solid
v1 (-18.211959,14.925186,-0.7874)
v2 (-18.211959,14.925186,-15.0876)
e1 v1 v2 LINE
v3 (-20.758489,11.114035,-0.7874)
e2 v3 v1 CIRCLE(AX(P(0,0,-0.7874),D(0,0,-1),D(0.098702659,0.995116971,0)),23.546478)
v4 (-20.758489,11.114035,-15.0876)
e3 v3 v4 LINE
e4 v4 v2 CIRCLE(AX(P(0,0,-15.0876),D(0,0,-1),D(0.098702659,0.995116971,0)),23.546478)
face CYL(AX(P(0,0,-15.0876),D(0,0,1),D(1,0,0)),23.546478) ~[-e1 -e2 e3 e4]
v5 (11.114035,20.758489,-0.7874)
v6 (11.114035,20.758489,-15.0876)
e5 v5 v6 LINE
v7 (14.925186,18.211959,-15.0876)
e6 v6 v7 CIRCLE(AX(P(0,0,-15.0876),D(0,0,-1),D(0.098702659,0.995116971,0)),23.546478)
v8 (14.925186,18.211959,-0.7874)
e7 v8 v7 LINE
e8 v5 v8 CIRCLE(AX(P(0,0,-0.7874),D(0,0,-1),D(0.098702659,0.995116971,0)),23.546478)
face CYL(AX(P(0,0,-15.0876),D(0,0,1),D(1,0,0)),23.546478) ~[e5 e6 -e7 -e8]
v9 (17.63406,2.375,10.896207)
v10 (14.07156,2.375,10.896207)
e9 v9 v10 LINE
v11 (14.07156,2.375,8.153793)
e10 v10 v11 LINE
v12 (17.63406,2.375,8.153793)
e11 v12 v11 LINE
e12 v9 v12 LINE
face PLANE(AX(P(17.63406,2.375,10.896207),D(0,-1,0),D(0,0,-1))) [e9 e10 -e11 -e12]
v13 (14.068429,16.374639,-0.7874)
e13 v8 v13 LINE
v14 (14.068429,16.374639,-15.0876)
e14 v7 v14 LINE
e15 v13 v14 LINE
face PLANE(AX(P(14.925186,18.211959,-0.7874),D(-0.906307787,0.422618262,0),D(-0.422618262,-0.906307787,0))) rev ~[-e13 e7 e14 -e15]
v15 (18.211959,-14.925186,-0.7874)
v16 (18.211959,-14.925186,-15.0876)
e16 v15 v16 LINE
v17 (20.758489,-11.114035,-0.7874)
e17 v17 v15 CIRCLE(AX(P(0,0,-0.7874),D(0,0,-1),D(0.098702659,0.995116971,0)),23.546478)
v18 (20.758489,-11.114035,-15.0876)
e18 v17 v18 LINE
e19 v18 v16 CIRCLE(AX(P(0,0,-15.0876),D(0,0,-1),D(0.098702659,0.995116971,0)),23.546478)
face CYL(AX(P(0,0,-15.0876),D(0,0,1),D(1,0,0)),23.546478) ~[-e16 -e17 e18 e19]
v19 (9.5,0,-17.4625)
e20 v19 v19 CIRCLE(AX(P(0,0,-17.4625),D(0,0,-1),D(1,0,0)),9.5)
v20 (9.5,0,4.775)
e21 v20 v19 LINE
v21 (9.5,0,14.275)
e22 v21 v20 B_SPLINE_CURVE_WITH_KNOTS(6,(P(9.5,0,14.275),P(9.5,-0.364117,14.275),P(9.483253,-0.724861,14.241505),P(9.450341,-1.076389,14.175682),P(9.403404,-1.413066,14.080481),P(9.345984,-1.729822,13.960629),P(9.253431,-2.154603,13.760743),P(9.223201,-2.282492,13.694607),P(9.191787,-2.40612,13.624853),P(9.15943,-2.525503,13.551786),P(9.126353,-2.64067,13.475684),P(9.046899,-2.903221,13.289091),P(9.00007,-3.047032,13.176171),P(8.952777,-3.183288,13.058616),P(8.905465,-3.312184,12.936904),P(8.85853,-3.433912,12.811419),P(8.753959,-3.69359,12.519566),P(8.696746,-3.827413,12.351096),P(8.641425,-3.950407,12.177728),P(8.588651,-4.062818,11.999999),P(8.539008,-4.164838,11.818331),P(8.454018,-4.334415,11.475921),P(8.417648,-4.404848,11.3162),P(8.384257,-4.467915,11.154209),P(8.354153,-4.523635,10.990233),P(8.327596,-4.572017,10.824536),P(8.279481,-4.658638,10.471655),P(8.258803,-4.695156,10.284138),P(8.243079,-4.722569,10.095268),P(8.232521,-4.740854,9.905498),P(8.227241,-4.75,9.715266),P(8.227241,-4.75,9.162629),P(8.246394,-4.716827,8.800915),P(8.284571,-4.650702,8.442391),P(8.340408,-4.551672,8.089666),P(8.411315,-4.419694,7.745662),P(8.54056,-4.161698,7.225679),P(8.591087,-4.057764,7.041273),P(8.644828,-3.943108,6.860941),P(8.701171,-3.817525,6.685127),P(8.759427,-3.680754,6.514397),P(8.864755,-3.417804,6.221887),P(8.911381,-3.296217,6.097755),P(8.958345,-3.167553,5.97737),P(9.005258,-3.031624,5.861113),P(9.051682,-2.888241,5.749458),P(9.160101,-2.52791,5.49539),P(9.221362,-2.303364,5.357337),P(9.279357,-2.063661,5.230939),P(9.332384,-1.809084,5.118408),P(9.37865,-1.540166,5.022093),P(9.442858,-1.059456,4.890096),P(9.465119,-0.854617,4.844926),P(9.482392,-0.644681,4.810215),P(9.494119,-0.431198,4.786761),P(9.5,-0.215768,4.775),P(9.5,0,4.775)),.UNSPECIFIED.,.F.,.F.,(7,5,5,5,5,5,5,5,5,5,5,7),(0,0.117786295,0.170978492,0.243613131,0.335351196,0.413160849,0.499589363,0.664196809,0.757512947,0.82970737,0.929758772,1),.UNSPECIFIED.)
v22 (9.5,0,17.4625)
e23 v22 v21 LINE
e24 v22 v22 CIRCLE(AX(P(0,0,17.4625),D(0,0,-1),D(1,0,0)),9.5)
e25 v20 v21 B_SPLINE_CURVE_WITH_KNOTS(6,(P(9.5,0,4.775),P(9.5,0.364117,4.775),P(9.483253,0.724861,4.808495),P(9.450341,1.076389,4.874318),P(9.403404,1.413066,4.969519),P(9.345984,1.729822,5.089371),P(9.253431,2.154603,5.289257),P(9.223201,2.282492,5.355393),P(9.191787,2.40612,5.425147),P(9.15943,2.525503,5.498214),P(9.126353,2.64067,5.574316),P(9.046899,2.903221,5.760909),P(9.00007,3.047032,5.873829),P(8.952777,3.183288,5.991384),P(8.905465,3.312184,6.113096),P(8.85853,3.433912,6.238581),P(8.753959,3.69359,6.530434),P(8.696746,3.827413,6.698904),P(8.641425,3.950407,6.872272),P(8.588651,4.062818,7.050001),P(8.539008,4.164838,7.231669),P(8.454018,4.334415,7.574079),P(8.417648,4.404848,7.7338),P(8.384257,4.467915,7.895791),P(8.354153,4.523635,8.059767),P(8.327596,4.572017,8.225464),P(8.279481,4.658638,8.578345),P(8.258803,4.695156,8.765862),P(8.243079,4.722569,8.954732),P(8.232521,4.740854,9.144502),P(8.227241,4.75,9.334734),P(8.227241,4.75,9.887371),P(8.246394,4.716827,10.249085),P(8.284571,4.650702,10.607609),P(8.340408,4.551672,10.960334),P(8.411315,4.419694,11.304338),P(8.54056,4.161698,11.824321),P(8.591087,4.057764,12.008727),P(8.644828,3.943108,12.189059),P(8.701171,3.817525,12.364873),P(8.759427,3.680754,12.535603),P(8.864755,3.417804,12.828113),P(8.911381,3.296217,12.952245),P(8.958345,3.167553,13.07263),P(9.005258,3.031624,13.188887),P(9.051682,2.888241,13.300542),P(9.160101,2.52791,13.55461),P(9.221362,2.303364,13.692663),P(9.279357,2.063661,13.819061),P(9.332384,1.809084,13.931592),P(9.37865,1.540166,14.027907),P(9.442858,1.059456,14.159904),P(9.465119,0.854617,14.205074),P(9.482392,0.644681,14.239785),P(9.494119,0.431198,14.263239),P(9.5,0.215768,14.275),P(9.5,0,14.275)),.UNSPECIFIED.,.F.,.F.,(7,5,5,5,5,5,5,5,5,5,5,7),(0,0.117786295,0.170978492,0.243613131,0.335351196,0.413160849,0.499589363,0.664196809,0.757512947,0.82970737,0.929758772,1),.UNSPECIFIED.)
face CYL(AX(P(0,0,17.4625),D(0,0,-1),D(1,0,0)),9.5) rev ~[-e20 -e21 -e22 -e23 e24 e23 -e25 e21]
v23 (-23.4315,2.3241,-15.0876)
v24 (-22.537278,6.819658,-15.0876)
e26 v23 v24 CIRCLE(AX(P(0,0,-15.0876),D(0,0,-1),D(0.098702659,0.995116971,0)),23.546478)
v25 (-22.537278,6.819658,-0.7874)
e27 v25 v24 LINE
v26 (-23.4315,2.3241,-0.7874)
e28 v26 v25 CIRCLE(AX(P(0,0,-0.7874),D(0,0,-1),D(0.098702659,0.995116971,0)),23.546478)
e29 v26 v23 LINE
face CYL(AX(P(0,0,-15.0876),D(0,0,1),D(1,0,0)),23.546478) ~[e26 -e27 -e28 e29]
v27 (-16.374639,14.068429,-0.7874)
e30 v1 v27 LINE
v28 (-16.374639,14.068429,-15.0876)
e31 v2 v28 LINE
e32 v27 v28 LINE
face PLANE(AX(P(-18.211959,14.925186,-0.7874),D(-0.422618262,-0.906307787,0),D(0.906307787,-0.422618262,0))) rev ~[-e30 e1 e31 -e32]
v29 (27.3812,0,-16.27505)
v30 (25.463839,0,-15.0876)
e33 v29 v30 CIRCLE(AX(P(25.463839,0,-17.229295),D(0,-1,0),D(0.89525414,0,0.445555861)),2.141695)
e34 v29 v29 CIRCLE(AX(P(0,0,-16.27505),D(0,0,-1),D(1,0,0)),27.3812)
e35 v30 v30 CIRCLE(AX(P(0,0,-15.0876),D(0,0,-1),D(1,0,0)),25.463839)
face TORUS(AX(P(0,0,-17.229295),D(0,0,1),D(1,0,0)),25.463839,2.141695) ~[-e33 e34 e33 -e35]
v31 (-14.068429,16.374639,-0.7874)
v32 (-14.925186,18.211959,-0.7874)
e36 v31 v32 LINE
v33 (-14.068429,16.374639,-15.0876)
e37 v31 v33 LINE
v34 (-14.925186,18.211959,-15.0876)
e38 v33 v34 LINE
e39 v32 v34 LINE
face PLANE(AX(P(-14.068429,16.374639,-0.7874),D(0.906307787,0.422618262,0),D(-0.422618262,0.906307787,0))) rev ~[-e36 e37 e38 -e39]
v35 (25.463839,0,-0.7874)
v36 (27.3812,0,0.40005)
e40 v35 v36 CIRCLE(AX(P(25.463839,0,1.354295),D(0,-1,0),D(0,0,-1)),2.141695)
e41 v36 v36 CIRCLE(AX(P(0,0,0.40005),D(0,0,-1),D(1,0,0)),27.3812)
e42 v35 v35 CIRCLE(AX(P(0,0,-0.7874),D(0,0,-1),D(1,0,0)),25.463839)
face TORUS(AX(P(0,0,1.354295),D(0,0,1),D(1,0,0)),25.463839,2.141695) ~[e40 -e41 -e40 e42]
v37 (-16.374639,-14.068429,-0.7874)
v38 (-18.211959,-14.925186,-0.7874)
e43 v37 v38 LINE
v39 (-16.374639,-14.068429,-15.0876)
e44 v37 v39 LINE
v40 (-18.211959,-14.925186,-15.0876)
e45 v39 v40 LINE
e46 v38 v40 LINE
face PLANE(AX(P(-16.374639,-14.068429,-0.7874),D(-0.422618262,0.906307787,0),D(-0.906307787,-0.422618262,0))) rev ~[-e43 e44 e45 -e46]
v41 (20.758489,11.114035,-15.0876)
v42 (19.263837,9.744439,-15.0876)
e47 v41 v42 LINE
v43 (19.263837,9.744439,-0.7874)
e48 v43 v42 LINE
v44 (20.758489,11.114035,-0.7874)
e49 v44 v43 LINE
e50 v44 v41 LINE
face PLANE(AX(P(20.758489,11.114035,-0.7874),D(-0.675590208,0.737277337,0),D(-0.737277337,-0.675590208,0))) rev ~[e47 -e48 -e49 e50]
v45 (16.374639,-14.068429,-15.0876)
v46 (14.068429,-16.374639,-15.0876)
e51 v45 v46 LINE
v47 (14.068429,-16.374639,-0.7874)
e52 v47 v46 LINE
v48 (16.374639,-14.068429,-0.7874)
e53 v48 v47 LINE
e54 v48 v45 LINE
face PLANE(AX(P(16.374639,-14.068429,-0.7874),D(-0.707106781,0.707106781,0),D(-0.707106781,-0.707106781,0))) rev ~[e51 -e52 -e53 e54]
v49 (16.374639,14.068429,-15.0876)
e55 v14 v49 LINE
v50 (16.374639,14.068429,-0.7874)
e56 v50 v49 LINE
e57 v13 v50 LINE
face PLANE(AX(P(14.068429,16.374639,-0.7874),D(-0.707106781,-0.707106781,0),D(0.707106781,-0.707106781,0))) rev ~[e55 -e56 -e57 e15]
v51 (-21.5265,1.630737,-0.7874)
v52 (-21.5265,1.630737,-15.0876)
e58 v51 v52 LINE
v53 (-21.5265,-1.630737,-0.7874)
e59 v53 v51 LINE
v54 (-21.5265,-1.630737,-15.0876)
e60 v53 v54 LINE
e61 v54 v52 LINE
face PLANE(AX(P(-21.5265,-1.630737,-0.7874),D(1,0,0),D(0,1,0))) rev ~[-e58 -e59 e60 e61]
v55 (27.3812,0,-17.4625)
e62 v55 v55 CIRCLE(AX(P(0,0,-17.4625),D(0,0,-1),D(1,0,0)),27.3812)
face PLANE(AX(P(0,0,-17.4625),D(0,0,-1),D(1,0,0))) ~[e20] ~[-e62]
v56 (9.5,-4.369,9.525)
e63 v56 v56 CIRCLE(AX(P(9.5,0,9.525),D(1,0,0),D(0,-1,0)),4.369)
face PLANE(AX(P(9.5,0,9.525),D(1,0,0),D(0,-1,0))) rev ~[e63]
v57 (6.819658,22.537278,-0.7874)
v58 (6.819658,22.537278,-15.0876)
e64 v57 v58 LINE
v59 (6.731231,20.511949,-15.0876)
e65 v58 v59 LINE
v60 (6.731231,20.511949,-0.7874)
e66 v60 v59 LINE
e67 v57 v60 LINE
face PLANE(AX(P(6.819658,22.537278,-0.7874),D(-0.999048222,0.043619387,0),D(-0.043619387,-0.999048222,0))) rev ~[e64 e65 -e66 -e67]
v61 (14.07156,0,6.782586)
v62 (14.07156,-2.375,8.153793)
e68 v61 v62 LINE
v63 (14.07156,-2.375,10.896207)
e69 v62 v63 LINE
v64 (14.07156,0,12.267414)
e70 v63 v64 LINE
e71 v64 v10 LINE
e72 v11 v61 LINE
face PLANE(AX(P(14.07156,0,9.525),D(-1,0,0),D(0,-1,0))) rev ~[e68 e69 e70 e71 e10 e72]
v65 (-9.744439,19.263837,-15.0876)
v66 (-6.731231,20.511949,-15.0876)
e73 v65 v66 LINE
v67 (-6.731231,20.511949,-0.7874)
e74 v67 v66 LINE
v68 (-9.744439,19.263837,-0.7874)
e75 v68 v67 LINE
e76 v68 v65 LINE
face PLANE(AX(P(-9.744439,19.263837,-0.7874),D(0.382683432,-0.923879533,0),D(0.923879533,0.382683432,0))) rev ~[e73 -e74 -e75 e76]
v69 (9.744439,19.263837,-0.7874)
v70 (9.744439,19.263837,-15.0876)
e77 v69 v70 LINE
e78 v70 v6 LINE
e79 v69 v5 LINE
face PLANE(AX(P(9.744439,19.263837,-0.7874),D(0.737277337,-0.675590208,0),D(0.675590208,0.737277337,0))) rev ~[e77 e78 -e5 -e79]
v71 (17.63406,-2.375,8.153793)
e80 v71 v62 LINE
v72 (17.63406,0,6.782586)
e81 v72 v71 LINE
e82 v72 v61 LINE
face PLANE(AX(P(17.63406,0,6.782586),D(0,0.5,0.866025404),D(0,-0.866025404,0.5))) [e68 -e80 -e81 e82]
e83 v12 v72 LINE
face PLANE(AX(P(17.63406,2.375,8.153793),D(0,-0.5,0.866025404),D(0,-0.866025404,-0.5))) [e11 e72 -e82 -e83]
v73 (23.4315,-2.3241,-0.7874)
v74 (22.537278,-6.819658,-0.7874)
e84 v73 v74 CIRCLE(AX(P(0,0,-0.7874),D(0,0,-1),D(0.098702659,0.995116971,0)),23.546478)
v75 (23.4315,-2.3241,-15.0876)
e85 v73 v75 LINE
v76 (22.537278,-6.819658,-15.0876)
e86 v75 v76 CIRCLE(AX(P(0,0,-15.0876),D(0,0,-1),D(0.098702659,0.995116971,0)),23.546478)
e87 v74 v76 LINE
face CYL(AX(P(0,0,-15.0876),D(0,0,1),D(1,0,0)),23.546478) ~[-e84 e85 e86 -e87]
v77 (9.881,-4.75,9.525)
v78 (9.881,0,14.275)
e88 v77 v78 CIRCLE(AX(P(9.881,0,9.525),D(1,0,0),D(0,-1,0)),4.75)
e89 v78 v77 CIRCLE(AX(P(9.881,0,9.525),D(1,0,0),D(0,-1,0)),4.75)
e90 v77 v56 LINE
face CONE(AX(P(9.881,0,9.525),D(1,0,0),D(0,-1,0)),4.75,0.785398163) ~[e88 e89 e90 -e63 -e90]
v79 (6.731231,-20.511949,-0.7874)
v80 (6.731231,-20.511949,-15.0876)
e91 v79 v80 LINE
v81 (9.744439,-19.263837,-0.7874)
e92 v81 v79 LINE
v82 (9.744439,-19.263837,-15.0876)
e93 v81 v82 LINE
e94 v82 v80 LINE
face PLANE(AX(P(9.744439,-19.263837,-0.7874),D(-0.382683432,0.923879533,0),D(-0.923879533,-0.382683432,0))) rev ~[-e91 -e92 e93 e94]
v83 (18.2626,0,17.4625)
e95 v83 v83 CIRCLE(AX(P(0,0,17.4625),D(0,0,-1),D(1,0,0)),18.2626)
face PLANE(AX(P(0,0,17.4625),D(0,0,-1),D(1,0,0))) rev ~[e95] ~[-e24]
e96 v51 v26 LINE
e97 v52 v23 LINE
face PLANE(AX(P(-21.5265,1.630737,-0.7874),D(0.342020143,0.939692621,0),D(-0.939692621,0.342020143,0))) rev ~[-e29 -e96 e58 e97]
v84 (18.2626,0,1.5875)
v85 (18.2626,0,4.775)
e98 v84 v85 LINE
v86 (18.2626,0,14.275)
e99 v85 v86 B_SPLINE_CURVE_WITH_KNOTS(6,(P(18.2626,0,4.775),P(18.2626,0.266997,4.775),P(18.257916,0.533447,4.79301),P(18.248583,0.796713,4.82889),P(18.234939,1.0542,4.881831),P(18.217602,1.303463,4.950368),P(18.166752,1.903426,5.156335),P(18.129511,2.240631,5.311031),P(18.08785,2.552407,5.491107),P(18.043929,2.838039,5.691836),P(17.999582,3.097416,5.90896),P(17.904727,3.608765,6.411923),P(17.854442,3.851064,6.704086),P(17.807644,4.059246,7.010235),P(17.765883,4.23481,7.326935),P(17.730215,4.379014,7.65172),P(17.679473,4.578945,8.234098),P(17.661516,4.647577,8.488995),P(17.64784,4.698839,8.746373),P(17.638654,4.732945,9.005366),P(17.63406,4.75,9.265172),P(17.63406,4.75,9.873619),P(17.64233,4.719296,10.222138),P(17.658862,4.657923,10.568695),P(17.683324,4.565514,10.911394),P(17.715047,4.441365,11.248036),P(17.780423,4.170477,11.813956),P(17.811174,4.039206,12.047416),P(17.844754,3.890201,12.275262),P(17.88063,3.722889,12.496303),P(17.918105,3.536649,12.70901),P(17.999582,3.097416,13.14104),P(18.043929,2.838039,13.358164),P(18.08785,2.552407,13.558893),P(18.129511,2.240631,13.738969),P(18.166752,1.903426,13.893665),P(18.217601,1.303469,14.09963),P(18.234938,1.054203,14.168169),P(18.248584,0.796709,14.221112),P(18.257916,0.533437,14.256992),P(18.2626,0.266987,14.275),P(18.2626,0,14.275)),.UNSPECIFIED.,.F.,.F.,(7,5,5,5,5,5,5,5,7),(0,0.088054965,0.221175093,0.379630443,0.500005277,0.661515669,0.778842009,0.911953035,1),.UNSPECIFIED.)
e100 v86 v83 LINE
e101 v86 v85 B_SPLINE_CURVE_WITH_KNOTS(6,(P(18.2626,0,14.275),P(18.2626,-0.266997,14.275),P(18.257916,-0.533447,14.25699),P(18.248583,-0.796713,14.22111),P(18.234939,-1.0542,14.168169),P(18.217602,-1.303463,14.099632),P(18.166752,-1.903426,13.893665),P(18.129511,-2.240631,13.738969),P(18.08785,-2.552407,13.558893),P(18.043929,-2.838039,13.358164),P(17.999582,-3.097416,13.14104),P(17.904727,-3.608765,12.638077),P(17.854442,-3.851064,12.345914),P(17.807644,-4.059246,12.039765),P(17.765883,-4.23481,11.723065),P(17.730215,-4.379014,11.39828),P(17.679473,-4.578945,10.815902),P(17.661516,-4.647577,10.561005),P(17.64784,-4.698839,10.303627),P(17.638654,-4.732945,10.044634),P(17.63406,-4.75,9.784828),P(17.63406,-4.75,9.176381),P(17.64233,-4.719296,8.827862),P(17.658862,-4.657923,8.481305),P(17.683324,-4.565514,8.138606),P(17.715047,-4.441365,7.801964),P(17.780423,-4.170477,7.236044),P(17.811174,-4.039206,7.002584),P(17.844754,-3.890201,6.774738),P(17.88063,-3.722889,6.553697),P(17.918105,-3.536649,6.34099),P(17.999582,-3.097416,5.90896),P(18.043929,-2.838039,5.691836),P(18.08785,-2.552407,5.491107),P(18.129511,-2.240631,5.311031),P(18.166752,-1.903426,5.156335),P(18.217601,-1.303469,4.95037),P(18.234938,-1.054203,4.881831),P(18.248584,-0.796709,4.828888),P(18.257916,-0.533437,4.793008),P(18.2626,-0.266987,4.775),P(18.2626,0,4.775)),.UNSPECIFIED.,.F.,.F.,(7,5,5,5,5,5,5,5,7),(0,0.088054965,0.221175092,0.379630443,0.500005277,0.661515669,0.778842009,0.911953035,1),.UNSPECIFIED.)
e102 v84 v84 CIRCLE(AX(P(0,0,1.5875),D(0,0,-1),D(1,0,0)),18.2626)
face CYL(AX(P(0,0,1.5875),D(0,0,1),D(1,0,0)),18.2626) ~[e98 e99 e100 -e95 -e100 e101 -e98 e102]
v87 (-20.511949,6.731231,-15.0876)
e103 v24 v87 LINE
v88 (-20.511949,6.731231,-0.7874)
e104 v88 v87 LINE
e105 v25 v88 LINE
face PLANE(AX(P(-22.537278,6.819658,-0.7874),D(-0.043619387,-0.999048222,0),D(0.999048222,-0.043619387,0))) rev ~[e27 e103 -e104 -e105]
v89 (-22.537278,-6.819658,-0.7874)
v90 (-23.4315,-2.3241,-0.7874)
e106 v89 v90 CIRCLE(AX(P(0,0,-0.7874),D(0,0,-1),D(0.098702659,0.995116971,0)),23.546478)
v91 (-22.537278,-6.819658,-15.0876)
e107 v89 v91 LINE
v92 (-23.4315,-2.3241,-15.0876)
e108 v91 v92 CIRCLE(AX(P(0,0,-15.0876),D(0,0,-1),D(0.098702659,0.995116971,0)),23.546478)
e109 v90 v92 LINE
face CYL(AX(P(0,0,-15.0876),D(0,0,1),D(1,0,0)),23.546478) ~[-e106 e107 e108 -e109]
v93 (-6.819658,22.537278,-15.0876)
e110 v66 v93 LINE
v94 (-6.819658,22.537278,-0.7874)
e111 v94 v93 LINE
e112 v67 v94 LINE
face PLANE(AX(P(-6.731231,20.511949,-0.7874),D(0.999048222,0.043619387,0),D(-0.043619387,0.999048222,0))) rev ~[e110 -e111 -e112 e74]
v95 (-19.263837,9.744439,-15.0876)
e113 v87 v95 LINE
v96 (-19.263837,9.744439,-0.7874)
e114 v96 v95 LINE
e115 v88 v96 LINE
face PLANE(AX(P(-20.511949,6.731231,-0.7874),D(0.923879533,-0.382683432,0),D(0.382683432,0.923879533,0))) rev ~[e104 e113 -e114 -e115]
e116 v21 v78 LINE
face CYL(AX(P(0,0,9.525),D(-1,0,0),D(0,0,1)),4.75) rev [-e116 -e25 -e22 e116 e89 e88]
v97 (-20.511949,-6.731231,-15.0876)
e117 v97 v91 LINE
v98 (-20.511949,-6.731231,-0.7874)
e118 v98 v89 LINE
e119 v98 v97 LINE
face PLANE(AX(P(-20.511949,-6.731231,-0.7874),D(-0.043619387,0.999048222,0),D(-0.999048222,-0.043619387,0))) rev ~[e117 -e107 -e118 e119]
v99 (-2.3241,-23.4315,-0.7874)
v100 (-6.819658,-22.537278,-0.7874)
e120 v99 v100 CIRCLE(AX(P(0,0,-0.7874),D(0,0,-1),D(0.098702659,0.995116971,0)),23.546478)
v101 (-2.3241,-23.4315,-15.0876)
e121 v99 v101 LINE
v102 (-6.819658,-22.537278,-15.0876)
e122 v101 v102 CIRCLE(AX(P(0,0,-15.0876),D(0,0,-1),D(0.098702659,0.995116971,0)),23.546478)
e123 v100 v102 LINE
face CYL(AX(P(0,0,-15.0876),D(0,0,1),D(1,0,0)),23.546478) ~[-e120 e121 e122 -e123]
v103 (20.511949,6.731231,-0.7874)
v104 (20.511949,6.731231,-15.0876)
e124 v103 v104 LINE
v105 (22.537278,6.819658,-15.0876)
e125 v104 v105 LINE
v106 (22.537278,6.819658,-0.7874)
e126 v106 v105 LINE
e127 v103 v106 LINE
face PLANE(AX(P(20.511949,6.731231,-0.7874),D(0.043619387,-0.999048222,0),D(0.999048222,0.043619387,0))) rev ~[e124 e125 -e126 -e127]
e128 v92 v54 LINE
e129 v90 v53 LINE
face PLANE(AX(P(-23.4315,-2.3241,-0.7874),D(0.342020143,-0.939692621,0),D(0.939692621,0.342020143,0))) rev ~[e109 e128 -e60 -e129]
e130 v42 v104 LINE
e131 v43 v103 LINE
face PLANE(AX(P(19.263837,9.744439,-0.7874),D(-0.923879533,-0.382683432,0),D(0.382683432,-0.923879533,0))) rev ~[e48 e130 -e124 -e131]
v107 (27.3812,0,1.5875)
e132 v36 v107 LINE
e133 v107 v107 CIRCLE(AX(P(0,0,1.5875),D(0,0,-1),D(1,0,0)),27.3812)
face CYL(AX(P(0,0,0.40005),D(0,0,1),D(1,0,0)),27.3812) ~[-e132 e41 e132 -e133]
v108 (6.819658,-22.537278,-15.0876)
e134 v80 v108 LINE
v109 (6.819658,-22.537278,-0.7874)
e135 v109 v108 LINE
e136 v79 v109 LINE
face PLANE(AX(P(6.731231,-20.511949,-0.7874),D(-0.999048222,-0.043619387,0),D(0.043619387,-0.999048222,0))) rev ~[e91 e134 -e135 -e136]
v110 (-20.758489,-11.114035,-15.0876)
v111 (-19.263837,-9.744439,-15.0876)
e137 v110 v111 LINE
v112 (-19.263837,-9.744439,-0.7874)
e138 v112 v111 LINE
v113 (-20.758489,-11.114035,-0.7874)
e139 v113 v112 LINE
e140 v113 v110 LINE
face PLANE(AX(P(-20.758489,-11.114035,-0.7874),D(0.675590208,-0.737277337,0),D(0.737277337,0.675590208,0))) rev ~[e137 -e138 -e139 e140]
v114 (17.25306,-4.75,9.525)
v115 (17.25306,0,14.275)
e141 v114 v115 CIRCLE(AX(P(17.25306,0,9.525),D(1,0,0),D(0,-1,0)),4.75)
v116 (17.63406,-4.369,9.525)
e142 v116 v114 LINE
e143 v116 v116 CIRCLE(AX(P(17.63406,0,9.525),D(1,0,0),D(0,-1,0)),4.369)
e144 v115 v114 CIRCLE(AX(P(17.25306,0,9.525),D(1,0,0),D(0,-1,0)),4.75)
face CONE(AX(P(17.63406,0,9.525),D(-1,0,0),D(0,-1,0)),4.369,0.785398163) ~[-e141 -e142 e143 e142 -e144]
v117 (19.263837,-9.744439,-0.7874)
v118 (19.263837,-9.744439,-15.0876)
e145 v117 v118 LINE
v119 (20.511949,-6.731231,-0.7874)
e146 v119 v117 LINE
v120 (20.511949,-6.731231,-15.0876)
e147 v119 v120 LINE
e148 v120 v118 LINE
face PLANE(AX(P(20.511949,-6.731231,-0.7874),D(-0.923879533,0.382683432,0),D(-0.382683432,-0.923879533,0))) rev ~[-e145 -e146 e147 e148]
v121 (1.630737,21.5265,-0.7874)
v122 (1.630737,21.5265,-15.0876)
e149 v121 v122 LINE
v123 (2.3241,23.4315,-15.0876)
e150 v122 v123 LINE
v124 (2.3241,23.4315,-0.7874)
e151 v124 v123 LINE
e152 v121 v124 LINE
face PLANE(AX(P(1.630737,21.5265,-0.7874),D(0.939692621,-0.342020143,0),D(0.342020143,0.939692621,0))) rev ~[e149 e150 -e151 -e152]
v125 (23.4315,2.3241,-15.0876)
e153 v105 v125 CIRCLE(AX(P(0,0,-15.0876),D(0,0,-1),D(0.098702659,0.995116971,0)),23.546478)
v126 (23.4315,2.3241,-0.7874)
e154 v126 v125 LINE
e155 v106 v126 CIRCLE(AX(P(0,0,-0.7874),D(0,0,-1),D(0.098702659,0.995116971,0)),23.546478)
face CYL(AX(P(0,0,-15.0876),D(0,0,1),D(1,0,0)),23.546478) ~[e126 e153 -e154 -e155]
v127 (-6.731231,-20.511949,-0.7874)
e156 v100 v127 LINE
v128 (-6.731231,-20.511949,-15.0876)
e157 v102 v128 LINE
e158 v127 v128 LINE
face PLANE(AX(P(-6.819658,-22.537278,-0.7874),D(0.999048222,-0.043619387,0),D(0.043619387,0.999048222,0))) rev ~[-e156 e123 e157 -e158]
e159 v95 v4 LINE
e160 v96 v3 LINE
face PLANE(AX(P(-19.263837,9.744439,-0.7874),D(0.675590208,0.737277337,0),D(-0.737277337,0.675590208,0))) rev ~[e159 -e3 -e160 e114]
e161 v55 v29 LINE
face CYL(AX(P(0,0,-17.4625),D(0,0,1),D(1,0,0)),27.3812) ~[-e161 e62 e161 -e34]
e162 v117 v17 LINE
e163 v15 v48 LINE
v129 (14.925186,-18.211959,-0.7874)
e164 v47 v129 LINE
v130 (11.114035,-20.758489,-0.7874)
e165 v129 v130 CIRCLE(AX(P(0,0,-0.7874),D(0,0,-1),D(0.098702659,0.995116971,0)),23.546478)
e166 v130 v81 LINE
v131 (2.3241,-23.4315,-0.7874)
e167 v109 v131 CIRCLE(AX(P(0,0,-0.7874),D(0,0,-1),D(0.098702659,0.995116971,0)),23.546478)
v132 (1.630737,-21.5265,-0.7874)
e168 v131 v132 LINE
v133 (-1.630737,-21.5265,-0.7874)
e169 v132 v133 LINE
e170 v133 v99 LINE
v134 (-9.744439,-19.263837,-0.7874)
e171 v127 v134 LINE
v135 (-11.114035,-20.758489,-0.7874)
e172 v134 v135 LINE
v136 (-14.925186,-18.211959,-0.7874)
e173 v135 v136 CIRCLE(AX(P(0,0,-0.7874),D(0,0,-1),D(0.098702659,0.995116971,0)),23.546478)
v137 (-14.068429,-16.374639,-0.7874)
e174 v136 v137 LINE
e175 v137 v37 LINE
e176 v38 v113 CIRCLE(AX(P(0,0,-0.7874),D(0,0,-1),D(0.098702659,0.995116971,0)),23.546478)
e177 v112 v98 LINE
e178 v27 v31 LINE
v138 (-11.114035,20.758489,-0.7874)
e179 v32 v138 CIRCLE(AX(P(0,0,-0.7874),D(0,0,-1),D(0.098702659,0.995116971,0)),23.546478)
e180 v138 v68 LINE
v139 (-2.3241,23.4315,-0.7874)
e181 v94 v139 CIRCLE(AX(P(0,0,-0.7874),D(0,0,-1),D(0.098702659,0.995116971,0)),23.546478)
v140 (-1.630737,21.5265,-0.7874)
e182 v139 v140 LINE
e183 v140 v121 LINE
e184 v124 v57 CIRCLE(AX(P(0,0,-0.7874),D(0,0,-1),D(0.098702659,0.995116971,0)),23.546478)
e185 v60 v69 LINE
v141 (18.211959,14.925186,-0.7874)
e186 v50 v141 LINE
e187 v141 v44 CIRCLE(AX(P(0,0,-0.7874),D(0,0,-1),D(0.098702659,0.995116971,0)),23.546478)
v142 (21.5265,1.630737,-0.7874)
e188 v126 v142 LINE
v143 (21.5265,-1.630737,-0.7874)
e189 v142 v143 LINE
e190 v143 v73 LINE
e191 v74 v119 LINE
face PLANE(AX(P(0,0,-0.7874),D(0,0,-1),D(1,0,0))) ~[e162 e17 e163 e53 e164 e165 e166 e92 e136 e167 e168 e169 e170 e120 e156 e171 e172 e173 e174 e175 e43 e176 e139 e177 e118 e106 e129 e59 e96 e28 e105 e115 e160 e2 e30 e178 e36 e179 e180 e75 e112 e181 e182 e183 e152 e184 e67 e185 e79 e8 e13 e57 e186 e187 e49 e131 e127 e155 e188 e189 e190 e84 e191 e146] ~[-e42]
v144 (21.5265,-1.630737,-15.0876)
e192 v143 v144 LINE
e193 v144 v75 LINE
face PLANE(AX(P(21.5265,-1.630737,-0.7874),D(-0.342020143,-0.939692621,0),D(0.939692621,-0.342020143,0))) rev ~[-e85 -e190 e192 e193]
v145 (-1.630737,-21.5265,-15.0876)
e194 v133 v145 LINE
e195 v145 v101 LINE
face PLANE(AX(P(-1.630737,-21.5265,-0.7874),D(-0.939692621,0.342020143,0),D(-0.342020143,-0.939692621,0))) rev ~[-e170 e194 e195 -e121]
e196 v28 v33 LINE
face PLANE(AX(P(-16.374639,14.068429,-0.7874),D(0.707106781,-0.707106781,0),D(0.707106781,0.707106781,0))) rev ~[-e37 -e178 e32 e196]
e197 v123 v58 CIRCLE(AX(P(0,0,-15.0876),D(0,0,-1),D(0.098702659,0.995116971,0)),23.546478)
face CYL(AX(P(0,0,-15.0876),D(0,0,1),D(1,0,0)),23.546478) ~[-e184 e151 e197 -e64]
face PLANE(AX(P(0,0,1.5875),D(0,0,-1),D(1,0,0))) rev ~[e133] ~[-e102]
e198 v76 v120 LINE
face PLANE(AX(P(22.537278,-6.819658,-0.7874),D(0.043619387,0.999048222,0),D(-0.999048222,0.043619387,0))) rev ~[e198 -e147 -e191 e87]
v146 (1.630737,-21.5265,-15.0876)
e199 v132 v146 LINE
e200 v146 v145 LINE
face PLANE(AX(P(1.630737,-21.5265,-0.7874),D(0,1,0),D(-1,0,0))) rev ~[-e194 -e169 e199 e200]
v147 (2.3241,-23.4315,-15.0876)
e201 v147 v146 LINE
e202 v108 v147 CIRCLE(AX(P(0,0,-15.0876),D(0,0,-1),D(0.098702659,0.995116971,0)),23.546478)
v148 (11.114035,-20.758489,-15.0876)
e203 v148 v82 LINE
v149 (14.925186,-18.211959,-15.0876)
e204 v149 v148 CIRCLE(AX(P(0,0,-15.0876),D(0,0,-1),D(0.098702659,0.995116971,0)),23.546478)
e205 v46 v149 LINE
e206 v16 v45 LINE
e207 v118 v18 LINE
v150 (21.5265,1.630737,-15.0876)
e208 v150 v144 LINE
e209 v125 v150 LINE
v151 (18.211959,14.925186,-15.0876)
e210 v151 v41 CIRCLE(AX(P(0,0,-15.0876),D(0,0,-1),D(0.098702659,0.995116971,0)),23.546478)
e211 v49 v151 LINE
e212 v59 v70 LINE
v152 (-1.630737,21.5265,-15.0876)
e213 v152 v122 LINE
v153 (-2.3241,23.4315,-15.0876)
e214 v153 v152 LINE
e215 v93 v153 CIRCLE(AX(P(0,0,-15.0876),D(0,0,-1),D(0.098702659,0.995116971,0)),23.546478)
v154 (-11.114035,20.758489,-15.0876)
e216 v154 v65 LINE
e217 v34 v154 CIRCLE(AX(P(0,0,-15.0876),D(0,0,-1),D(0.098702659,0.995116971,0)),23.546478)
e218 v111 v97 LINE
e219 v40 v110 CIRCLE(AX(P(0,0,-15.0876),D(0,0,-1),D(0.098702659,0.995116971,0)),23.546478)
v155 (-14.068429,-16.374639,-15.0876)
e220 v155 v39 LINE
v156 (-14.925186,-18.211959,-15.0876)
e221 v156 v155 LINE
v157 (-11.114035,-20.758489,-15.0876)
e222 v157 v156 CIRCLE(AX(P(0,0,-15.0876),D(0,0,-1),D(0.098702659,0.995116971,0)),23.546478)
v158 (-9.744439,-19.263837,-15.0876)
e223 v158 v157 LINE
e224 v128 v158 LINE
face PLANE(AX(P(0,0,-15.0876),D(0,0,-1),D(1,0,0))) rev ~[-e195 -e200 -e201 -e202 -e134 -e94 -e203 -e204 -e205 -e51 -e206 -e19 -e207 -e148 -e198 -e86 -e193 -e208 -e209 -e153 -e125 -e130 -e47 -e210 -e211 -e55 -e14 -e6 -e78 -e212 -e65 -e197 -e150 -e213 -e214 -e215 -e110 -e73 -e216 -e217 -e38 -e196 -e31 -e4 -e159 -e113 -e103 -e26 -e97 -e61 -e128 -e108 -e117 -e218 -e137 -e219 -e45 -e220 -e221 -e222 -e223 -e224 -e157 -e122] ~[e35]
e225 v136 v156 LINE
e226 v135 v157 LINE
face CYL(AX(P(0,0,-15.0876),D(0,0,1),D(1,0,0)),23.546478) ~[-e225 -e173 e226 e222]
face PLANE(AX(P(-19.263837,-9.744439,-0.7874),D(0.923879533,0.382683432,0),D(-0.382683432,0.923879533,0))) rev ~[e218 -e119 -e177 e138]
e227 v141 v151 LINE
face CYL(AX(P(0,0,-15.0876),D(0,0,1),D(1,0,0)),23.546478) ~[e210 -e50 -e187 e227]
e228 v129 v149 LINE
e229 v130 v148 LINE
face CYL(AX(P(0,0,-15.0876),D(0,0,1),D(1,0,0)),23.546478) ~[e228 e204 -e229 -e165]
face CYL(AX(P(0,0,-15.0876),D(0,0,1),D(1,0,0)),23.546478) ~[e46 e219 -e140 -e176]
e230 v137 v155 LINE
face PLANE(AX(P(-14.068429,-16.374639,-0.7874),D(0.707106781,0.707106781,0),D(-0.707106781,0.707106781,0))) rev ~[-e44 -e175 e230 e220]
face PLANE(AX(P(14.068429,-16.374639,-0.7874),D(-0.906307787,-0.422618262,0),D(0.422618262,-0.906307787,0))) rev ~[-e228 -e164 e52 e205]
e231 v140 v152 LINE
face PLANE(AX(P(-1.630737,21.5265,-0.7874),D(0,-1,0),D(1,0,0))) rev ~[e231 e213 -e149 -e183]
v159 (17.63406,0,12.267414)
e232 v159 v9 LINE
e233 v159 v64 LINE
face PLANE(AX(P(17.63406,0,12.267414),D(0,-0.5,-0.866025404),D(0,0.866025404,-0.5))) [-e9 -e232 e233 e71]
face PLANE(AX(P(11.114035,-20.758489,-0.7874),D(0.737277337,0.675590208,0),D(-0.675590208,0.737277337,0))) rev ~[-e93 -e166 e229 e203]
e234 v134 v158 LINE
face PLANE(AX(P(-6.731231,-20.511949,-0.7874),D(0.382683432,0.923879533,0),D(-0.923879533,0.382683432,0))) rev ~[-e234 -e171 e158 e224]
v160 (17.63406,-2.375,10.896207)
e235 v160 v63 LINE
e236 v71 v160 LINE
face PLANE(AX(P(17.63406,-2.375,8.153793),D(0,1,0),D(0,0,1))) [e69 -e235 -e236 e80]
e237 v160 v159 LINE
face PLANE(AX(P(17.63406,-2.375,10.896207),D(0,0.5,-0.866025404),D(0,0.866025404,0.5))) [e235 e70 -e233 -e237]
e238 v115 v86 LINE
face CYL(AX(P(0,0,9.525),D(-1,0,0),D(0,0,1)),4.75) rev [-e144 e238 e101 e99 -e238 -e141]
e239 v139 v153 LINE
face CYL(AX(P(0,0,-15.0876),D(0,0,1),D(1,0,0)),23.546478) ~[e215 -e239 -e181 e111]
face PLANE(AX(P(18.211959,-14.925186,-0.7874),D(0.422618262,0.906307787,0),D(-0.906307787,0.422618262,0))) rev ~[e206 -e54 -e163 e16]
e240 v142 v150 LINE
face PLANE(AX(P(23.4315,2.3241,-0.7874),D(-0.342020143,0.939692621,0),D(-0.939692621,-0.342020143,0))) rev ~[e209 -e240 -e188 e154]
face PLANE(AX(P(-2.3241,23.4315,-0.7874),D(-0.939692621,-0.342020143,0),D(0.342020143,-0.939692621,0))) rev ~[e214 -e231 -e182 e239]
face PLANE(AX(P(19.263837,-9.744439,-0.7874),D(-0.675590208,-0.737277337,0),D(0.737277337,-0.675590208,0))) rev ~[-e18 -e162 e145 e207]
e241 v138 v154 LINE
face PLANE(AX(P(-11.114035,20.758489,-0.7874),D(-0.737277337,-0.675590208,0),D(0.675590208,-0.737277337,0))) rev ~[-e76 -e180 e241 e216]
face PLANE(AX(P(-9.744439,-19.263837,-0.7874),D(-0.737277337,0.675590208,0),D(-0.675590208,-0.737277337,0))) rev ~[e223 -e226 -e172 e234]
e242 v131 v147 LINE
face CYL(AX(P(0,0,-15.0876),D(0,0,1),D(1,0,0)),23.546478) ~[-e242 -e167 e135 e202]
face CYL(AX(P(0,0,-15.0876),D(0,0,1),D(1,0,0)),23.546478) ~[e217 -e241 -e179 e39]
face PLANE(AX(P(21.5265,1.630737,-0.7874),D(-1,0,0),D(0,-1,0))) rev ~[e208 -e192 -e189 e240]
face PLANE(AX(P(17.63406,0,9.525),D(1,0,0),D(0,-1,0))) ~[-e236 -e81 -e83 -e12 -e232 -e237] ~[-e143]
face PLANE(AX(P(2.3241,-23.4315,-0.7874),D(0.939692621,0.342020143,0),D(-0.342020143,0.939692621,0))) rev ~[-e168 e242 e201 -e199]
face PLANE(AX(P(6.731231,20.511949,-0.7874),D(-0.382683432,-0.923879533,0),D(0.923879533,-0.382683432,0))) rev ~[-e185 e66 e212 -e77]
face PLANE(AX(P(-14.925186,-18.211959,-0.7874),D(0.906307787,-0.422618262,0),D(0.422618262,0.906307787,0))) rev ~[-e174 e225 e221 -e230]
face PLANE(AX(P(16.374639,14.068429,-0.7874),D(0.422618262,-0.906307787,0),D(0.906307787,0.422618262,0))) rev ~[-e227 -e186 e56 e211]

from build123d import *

# Parameters (mm, degrees)
CUT_EXTRUDE1_START = -0.7874
CUT_EXTRUDE1_DEPTH = 14.3002
CIRPATTERN1_COUNT  = 16
SKETCH4_R          = 4.75
CUT_EXTRUDE2_DEPTH = 43.478219515
CUT_EXTRUDE3_DEPTH = 3.5625


with BuildPart() as part:
    # Sketch2 → Revolve1 (revolve)
    with BuildSketch(Plane(origin=(0, 0, 0), x_dir=(0, 0, -1), z_dir=(1, 0, 0)), mode=Mode.PRIVATE) as revolve1_sk:
        with BuildLine():
            Line((-17.4625, 9.5), (17.4625, 9.5))
            Line((17.4625, 9.5), (17.4625, 27.3812))
            Line((17.4625, 27.3812), (16.27505, 27.3812))
            ThreePointArc((16.27505, 27.3812), (15.408504076, 26.591481572), (15.0876, 25.463839073))
            Line((15.0876, 25.463839073), (15.0876, 23.546478146))
            Line((15.0876, 23.546478146), (0.7874, 23.546478146))
            Line((0.7874, 23.546478146), (0.7874, 25.463839073))
            ThreePointArc((0.7874, 25.463839073), (0.466495924, 26.591481572), (-0.40005, 27.3812))
            Line((-0.40005, 27.3812), (-1.5875, 27.3812))
            Line((-1.5875, 27.3812), (-1.5875, 18.2626))
            Line((-1.5875, 18.2626), (-17.4625, 18.2626))
            Line((-17.4625, 18.2626), (-17.4625, 9.5))
        make_face()
    revolve(revolve1_sk.sketch.rotate(Axis((0, 0, 17.4625), (0, 0, -1)), 90), axis=Axis((0, 0, 17.4625), (0, 0, -1)))

    # Sketch3 → Cut-Extrude1 (cut)
    with BuildSketch(Plane.XY.offset(CUT_EXTRUDE1_START)):
        with BuildLine():
            Line((-1.630736704, 21.5265), (1.630736704, 21.5265))
            Line((1.630736704, 21.5265), (2.3241, 23.4315))
            ThreePointArc((2.3241, 23.4315), (0, 23.546478146), (-2.3241, 23.4315))
            Line((-2.3241, 23.4315), (-1.630736704, 21.5265))
        make_face()
    cut_extrude1 = extrude(amount=-CUT_EXTRUDE1_DEPTH, mode=Mode.SUBTRACT)

    # CirPattern1: Cut-Extrude1 ×16 about axis
    cirpattern1_axis = Axis((0, 0, 0), (0, 0, 1))
    for i in range(1, CIRPATTERN1_COUNT):
        add(cut_extrude1.rotate(cirpattern1_axis, i * 360 / CIRPATTERN1_COUNT), mode=Mode.SUBTRACT)

    # Sketch4 → Cut-Extrude2 (cut, through all)
    with BuildSketch(Plane(origin=(0, 0, 0), x_dir=(0, -1, 0), z_dir=(1, 0, 0))):
        with Locations(Location((0, -9.525, 0), (0, 0, 270))):
            Circle(SKETCH4_R)
    extrude(amount=CUT_EXTRUDE2_DEPTH, mode=Mode.SUBTRACT)

    # Sketch5 → Revolve2 (revolve)
    with BuildSketch(Plane.XY.offset(9.525)):
        Polygon((9.5, -4.369), (9.5, 0), (17.634059622, 0), (17.634059622, -4.369), (17.253059622, -4.75), (9.881, -4.75), align=None)
    revolve(axis=Axis((9.5, 0, 9.525), (1, 0, 0)))

    # Sketch6 → Cut-Extrude3 (cut)
    with BuildSketch(Plane(origin=(17.634059622, 5.384140679, 0), x_dir=(0, -1, 0), z_dir=(-1, 0, 0))):
        Polygon((5.384140679, 12.267413779), (3.009140679, 10.896206889), (3.009140679, 8.153793111), (5.384140679, 6.782586221), (7.759140679, 8.153793111), (7.759140679, 10.896206889), align=None)
    extrude(amount=CUT_EXTRUDE3_DEPTH, mode=Mode.SUBTRACT)


solid = part.part
